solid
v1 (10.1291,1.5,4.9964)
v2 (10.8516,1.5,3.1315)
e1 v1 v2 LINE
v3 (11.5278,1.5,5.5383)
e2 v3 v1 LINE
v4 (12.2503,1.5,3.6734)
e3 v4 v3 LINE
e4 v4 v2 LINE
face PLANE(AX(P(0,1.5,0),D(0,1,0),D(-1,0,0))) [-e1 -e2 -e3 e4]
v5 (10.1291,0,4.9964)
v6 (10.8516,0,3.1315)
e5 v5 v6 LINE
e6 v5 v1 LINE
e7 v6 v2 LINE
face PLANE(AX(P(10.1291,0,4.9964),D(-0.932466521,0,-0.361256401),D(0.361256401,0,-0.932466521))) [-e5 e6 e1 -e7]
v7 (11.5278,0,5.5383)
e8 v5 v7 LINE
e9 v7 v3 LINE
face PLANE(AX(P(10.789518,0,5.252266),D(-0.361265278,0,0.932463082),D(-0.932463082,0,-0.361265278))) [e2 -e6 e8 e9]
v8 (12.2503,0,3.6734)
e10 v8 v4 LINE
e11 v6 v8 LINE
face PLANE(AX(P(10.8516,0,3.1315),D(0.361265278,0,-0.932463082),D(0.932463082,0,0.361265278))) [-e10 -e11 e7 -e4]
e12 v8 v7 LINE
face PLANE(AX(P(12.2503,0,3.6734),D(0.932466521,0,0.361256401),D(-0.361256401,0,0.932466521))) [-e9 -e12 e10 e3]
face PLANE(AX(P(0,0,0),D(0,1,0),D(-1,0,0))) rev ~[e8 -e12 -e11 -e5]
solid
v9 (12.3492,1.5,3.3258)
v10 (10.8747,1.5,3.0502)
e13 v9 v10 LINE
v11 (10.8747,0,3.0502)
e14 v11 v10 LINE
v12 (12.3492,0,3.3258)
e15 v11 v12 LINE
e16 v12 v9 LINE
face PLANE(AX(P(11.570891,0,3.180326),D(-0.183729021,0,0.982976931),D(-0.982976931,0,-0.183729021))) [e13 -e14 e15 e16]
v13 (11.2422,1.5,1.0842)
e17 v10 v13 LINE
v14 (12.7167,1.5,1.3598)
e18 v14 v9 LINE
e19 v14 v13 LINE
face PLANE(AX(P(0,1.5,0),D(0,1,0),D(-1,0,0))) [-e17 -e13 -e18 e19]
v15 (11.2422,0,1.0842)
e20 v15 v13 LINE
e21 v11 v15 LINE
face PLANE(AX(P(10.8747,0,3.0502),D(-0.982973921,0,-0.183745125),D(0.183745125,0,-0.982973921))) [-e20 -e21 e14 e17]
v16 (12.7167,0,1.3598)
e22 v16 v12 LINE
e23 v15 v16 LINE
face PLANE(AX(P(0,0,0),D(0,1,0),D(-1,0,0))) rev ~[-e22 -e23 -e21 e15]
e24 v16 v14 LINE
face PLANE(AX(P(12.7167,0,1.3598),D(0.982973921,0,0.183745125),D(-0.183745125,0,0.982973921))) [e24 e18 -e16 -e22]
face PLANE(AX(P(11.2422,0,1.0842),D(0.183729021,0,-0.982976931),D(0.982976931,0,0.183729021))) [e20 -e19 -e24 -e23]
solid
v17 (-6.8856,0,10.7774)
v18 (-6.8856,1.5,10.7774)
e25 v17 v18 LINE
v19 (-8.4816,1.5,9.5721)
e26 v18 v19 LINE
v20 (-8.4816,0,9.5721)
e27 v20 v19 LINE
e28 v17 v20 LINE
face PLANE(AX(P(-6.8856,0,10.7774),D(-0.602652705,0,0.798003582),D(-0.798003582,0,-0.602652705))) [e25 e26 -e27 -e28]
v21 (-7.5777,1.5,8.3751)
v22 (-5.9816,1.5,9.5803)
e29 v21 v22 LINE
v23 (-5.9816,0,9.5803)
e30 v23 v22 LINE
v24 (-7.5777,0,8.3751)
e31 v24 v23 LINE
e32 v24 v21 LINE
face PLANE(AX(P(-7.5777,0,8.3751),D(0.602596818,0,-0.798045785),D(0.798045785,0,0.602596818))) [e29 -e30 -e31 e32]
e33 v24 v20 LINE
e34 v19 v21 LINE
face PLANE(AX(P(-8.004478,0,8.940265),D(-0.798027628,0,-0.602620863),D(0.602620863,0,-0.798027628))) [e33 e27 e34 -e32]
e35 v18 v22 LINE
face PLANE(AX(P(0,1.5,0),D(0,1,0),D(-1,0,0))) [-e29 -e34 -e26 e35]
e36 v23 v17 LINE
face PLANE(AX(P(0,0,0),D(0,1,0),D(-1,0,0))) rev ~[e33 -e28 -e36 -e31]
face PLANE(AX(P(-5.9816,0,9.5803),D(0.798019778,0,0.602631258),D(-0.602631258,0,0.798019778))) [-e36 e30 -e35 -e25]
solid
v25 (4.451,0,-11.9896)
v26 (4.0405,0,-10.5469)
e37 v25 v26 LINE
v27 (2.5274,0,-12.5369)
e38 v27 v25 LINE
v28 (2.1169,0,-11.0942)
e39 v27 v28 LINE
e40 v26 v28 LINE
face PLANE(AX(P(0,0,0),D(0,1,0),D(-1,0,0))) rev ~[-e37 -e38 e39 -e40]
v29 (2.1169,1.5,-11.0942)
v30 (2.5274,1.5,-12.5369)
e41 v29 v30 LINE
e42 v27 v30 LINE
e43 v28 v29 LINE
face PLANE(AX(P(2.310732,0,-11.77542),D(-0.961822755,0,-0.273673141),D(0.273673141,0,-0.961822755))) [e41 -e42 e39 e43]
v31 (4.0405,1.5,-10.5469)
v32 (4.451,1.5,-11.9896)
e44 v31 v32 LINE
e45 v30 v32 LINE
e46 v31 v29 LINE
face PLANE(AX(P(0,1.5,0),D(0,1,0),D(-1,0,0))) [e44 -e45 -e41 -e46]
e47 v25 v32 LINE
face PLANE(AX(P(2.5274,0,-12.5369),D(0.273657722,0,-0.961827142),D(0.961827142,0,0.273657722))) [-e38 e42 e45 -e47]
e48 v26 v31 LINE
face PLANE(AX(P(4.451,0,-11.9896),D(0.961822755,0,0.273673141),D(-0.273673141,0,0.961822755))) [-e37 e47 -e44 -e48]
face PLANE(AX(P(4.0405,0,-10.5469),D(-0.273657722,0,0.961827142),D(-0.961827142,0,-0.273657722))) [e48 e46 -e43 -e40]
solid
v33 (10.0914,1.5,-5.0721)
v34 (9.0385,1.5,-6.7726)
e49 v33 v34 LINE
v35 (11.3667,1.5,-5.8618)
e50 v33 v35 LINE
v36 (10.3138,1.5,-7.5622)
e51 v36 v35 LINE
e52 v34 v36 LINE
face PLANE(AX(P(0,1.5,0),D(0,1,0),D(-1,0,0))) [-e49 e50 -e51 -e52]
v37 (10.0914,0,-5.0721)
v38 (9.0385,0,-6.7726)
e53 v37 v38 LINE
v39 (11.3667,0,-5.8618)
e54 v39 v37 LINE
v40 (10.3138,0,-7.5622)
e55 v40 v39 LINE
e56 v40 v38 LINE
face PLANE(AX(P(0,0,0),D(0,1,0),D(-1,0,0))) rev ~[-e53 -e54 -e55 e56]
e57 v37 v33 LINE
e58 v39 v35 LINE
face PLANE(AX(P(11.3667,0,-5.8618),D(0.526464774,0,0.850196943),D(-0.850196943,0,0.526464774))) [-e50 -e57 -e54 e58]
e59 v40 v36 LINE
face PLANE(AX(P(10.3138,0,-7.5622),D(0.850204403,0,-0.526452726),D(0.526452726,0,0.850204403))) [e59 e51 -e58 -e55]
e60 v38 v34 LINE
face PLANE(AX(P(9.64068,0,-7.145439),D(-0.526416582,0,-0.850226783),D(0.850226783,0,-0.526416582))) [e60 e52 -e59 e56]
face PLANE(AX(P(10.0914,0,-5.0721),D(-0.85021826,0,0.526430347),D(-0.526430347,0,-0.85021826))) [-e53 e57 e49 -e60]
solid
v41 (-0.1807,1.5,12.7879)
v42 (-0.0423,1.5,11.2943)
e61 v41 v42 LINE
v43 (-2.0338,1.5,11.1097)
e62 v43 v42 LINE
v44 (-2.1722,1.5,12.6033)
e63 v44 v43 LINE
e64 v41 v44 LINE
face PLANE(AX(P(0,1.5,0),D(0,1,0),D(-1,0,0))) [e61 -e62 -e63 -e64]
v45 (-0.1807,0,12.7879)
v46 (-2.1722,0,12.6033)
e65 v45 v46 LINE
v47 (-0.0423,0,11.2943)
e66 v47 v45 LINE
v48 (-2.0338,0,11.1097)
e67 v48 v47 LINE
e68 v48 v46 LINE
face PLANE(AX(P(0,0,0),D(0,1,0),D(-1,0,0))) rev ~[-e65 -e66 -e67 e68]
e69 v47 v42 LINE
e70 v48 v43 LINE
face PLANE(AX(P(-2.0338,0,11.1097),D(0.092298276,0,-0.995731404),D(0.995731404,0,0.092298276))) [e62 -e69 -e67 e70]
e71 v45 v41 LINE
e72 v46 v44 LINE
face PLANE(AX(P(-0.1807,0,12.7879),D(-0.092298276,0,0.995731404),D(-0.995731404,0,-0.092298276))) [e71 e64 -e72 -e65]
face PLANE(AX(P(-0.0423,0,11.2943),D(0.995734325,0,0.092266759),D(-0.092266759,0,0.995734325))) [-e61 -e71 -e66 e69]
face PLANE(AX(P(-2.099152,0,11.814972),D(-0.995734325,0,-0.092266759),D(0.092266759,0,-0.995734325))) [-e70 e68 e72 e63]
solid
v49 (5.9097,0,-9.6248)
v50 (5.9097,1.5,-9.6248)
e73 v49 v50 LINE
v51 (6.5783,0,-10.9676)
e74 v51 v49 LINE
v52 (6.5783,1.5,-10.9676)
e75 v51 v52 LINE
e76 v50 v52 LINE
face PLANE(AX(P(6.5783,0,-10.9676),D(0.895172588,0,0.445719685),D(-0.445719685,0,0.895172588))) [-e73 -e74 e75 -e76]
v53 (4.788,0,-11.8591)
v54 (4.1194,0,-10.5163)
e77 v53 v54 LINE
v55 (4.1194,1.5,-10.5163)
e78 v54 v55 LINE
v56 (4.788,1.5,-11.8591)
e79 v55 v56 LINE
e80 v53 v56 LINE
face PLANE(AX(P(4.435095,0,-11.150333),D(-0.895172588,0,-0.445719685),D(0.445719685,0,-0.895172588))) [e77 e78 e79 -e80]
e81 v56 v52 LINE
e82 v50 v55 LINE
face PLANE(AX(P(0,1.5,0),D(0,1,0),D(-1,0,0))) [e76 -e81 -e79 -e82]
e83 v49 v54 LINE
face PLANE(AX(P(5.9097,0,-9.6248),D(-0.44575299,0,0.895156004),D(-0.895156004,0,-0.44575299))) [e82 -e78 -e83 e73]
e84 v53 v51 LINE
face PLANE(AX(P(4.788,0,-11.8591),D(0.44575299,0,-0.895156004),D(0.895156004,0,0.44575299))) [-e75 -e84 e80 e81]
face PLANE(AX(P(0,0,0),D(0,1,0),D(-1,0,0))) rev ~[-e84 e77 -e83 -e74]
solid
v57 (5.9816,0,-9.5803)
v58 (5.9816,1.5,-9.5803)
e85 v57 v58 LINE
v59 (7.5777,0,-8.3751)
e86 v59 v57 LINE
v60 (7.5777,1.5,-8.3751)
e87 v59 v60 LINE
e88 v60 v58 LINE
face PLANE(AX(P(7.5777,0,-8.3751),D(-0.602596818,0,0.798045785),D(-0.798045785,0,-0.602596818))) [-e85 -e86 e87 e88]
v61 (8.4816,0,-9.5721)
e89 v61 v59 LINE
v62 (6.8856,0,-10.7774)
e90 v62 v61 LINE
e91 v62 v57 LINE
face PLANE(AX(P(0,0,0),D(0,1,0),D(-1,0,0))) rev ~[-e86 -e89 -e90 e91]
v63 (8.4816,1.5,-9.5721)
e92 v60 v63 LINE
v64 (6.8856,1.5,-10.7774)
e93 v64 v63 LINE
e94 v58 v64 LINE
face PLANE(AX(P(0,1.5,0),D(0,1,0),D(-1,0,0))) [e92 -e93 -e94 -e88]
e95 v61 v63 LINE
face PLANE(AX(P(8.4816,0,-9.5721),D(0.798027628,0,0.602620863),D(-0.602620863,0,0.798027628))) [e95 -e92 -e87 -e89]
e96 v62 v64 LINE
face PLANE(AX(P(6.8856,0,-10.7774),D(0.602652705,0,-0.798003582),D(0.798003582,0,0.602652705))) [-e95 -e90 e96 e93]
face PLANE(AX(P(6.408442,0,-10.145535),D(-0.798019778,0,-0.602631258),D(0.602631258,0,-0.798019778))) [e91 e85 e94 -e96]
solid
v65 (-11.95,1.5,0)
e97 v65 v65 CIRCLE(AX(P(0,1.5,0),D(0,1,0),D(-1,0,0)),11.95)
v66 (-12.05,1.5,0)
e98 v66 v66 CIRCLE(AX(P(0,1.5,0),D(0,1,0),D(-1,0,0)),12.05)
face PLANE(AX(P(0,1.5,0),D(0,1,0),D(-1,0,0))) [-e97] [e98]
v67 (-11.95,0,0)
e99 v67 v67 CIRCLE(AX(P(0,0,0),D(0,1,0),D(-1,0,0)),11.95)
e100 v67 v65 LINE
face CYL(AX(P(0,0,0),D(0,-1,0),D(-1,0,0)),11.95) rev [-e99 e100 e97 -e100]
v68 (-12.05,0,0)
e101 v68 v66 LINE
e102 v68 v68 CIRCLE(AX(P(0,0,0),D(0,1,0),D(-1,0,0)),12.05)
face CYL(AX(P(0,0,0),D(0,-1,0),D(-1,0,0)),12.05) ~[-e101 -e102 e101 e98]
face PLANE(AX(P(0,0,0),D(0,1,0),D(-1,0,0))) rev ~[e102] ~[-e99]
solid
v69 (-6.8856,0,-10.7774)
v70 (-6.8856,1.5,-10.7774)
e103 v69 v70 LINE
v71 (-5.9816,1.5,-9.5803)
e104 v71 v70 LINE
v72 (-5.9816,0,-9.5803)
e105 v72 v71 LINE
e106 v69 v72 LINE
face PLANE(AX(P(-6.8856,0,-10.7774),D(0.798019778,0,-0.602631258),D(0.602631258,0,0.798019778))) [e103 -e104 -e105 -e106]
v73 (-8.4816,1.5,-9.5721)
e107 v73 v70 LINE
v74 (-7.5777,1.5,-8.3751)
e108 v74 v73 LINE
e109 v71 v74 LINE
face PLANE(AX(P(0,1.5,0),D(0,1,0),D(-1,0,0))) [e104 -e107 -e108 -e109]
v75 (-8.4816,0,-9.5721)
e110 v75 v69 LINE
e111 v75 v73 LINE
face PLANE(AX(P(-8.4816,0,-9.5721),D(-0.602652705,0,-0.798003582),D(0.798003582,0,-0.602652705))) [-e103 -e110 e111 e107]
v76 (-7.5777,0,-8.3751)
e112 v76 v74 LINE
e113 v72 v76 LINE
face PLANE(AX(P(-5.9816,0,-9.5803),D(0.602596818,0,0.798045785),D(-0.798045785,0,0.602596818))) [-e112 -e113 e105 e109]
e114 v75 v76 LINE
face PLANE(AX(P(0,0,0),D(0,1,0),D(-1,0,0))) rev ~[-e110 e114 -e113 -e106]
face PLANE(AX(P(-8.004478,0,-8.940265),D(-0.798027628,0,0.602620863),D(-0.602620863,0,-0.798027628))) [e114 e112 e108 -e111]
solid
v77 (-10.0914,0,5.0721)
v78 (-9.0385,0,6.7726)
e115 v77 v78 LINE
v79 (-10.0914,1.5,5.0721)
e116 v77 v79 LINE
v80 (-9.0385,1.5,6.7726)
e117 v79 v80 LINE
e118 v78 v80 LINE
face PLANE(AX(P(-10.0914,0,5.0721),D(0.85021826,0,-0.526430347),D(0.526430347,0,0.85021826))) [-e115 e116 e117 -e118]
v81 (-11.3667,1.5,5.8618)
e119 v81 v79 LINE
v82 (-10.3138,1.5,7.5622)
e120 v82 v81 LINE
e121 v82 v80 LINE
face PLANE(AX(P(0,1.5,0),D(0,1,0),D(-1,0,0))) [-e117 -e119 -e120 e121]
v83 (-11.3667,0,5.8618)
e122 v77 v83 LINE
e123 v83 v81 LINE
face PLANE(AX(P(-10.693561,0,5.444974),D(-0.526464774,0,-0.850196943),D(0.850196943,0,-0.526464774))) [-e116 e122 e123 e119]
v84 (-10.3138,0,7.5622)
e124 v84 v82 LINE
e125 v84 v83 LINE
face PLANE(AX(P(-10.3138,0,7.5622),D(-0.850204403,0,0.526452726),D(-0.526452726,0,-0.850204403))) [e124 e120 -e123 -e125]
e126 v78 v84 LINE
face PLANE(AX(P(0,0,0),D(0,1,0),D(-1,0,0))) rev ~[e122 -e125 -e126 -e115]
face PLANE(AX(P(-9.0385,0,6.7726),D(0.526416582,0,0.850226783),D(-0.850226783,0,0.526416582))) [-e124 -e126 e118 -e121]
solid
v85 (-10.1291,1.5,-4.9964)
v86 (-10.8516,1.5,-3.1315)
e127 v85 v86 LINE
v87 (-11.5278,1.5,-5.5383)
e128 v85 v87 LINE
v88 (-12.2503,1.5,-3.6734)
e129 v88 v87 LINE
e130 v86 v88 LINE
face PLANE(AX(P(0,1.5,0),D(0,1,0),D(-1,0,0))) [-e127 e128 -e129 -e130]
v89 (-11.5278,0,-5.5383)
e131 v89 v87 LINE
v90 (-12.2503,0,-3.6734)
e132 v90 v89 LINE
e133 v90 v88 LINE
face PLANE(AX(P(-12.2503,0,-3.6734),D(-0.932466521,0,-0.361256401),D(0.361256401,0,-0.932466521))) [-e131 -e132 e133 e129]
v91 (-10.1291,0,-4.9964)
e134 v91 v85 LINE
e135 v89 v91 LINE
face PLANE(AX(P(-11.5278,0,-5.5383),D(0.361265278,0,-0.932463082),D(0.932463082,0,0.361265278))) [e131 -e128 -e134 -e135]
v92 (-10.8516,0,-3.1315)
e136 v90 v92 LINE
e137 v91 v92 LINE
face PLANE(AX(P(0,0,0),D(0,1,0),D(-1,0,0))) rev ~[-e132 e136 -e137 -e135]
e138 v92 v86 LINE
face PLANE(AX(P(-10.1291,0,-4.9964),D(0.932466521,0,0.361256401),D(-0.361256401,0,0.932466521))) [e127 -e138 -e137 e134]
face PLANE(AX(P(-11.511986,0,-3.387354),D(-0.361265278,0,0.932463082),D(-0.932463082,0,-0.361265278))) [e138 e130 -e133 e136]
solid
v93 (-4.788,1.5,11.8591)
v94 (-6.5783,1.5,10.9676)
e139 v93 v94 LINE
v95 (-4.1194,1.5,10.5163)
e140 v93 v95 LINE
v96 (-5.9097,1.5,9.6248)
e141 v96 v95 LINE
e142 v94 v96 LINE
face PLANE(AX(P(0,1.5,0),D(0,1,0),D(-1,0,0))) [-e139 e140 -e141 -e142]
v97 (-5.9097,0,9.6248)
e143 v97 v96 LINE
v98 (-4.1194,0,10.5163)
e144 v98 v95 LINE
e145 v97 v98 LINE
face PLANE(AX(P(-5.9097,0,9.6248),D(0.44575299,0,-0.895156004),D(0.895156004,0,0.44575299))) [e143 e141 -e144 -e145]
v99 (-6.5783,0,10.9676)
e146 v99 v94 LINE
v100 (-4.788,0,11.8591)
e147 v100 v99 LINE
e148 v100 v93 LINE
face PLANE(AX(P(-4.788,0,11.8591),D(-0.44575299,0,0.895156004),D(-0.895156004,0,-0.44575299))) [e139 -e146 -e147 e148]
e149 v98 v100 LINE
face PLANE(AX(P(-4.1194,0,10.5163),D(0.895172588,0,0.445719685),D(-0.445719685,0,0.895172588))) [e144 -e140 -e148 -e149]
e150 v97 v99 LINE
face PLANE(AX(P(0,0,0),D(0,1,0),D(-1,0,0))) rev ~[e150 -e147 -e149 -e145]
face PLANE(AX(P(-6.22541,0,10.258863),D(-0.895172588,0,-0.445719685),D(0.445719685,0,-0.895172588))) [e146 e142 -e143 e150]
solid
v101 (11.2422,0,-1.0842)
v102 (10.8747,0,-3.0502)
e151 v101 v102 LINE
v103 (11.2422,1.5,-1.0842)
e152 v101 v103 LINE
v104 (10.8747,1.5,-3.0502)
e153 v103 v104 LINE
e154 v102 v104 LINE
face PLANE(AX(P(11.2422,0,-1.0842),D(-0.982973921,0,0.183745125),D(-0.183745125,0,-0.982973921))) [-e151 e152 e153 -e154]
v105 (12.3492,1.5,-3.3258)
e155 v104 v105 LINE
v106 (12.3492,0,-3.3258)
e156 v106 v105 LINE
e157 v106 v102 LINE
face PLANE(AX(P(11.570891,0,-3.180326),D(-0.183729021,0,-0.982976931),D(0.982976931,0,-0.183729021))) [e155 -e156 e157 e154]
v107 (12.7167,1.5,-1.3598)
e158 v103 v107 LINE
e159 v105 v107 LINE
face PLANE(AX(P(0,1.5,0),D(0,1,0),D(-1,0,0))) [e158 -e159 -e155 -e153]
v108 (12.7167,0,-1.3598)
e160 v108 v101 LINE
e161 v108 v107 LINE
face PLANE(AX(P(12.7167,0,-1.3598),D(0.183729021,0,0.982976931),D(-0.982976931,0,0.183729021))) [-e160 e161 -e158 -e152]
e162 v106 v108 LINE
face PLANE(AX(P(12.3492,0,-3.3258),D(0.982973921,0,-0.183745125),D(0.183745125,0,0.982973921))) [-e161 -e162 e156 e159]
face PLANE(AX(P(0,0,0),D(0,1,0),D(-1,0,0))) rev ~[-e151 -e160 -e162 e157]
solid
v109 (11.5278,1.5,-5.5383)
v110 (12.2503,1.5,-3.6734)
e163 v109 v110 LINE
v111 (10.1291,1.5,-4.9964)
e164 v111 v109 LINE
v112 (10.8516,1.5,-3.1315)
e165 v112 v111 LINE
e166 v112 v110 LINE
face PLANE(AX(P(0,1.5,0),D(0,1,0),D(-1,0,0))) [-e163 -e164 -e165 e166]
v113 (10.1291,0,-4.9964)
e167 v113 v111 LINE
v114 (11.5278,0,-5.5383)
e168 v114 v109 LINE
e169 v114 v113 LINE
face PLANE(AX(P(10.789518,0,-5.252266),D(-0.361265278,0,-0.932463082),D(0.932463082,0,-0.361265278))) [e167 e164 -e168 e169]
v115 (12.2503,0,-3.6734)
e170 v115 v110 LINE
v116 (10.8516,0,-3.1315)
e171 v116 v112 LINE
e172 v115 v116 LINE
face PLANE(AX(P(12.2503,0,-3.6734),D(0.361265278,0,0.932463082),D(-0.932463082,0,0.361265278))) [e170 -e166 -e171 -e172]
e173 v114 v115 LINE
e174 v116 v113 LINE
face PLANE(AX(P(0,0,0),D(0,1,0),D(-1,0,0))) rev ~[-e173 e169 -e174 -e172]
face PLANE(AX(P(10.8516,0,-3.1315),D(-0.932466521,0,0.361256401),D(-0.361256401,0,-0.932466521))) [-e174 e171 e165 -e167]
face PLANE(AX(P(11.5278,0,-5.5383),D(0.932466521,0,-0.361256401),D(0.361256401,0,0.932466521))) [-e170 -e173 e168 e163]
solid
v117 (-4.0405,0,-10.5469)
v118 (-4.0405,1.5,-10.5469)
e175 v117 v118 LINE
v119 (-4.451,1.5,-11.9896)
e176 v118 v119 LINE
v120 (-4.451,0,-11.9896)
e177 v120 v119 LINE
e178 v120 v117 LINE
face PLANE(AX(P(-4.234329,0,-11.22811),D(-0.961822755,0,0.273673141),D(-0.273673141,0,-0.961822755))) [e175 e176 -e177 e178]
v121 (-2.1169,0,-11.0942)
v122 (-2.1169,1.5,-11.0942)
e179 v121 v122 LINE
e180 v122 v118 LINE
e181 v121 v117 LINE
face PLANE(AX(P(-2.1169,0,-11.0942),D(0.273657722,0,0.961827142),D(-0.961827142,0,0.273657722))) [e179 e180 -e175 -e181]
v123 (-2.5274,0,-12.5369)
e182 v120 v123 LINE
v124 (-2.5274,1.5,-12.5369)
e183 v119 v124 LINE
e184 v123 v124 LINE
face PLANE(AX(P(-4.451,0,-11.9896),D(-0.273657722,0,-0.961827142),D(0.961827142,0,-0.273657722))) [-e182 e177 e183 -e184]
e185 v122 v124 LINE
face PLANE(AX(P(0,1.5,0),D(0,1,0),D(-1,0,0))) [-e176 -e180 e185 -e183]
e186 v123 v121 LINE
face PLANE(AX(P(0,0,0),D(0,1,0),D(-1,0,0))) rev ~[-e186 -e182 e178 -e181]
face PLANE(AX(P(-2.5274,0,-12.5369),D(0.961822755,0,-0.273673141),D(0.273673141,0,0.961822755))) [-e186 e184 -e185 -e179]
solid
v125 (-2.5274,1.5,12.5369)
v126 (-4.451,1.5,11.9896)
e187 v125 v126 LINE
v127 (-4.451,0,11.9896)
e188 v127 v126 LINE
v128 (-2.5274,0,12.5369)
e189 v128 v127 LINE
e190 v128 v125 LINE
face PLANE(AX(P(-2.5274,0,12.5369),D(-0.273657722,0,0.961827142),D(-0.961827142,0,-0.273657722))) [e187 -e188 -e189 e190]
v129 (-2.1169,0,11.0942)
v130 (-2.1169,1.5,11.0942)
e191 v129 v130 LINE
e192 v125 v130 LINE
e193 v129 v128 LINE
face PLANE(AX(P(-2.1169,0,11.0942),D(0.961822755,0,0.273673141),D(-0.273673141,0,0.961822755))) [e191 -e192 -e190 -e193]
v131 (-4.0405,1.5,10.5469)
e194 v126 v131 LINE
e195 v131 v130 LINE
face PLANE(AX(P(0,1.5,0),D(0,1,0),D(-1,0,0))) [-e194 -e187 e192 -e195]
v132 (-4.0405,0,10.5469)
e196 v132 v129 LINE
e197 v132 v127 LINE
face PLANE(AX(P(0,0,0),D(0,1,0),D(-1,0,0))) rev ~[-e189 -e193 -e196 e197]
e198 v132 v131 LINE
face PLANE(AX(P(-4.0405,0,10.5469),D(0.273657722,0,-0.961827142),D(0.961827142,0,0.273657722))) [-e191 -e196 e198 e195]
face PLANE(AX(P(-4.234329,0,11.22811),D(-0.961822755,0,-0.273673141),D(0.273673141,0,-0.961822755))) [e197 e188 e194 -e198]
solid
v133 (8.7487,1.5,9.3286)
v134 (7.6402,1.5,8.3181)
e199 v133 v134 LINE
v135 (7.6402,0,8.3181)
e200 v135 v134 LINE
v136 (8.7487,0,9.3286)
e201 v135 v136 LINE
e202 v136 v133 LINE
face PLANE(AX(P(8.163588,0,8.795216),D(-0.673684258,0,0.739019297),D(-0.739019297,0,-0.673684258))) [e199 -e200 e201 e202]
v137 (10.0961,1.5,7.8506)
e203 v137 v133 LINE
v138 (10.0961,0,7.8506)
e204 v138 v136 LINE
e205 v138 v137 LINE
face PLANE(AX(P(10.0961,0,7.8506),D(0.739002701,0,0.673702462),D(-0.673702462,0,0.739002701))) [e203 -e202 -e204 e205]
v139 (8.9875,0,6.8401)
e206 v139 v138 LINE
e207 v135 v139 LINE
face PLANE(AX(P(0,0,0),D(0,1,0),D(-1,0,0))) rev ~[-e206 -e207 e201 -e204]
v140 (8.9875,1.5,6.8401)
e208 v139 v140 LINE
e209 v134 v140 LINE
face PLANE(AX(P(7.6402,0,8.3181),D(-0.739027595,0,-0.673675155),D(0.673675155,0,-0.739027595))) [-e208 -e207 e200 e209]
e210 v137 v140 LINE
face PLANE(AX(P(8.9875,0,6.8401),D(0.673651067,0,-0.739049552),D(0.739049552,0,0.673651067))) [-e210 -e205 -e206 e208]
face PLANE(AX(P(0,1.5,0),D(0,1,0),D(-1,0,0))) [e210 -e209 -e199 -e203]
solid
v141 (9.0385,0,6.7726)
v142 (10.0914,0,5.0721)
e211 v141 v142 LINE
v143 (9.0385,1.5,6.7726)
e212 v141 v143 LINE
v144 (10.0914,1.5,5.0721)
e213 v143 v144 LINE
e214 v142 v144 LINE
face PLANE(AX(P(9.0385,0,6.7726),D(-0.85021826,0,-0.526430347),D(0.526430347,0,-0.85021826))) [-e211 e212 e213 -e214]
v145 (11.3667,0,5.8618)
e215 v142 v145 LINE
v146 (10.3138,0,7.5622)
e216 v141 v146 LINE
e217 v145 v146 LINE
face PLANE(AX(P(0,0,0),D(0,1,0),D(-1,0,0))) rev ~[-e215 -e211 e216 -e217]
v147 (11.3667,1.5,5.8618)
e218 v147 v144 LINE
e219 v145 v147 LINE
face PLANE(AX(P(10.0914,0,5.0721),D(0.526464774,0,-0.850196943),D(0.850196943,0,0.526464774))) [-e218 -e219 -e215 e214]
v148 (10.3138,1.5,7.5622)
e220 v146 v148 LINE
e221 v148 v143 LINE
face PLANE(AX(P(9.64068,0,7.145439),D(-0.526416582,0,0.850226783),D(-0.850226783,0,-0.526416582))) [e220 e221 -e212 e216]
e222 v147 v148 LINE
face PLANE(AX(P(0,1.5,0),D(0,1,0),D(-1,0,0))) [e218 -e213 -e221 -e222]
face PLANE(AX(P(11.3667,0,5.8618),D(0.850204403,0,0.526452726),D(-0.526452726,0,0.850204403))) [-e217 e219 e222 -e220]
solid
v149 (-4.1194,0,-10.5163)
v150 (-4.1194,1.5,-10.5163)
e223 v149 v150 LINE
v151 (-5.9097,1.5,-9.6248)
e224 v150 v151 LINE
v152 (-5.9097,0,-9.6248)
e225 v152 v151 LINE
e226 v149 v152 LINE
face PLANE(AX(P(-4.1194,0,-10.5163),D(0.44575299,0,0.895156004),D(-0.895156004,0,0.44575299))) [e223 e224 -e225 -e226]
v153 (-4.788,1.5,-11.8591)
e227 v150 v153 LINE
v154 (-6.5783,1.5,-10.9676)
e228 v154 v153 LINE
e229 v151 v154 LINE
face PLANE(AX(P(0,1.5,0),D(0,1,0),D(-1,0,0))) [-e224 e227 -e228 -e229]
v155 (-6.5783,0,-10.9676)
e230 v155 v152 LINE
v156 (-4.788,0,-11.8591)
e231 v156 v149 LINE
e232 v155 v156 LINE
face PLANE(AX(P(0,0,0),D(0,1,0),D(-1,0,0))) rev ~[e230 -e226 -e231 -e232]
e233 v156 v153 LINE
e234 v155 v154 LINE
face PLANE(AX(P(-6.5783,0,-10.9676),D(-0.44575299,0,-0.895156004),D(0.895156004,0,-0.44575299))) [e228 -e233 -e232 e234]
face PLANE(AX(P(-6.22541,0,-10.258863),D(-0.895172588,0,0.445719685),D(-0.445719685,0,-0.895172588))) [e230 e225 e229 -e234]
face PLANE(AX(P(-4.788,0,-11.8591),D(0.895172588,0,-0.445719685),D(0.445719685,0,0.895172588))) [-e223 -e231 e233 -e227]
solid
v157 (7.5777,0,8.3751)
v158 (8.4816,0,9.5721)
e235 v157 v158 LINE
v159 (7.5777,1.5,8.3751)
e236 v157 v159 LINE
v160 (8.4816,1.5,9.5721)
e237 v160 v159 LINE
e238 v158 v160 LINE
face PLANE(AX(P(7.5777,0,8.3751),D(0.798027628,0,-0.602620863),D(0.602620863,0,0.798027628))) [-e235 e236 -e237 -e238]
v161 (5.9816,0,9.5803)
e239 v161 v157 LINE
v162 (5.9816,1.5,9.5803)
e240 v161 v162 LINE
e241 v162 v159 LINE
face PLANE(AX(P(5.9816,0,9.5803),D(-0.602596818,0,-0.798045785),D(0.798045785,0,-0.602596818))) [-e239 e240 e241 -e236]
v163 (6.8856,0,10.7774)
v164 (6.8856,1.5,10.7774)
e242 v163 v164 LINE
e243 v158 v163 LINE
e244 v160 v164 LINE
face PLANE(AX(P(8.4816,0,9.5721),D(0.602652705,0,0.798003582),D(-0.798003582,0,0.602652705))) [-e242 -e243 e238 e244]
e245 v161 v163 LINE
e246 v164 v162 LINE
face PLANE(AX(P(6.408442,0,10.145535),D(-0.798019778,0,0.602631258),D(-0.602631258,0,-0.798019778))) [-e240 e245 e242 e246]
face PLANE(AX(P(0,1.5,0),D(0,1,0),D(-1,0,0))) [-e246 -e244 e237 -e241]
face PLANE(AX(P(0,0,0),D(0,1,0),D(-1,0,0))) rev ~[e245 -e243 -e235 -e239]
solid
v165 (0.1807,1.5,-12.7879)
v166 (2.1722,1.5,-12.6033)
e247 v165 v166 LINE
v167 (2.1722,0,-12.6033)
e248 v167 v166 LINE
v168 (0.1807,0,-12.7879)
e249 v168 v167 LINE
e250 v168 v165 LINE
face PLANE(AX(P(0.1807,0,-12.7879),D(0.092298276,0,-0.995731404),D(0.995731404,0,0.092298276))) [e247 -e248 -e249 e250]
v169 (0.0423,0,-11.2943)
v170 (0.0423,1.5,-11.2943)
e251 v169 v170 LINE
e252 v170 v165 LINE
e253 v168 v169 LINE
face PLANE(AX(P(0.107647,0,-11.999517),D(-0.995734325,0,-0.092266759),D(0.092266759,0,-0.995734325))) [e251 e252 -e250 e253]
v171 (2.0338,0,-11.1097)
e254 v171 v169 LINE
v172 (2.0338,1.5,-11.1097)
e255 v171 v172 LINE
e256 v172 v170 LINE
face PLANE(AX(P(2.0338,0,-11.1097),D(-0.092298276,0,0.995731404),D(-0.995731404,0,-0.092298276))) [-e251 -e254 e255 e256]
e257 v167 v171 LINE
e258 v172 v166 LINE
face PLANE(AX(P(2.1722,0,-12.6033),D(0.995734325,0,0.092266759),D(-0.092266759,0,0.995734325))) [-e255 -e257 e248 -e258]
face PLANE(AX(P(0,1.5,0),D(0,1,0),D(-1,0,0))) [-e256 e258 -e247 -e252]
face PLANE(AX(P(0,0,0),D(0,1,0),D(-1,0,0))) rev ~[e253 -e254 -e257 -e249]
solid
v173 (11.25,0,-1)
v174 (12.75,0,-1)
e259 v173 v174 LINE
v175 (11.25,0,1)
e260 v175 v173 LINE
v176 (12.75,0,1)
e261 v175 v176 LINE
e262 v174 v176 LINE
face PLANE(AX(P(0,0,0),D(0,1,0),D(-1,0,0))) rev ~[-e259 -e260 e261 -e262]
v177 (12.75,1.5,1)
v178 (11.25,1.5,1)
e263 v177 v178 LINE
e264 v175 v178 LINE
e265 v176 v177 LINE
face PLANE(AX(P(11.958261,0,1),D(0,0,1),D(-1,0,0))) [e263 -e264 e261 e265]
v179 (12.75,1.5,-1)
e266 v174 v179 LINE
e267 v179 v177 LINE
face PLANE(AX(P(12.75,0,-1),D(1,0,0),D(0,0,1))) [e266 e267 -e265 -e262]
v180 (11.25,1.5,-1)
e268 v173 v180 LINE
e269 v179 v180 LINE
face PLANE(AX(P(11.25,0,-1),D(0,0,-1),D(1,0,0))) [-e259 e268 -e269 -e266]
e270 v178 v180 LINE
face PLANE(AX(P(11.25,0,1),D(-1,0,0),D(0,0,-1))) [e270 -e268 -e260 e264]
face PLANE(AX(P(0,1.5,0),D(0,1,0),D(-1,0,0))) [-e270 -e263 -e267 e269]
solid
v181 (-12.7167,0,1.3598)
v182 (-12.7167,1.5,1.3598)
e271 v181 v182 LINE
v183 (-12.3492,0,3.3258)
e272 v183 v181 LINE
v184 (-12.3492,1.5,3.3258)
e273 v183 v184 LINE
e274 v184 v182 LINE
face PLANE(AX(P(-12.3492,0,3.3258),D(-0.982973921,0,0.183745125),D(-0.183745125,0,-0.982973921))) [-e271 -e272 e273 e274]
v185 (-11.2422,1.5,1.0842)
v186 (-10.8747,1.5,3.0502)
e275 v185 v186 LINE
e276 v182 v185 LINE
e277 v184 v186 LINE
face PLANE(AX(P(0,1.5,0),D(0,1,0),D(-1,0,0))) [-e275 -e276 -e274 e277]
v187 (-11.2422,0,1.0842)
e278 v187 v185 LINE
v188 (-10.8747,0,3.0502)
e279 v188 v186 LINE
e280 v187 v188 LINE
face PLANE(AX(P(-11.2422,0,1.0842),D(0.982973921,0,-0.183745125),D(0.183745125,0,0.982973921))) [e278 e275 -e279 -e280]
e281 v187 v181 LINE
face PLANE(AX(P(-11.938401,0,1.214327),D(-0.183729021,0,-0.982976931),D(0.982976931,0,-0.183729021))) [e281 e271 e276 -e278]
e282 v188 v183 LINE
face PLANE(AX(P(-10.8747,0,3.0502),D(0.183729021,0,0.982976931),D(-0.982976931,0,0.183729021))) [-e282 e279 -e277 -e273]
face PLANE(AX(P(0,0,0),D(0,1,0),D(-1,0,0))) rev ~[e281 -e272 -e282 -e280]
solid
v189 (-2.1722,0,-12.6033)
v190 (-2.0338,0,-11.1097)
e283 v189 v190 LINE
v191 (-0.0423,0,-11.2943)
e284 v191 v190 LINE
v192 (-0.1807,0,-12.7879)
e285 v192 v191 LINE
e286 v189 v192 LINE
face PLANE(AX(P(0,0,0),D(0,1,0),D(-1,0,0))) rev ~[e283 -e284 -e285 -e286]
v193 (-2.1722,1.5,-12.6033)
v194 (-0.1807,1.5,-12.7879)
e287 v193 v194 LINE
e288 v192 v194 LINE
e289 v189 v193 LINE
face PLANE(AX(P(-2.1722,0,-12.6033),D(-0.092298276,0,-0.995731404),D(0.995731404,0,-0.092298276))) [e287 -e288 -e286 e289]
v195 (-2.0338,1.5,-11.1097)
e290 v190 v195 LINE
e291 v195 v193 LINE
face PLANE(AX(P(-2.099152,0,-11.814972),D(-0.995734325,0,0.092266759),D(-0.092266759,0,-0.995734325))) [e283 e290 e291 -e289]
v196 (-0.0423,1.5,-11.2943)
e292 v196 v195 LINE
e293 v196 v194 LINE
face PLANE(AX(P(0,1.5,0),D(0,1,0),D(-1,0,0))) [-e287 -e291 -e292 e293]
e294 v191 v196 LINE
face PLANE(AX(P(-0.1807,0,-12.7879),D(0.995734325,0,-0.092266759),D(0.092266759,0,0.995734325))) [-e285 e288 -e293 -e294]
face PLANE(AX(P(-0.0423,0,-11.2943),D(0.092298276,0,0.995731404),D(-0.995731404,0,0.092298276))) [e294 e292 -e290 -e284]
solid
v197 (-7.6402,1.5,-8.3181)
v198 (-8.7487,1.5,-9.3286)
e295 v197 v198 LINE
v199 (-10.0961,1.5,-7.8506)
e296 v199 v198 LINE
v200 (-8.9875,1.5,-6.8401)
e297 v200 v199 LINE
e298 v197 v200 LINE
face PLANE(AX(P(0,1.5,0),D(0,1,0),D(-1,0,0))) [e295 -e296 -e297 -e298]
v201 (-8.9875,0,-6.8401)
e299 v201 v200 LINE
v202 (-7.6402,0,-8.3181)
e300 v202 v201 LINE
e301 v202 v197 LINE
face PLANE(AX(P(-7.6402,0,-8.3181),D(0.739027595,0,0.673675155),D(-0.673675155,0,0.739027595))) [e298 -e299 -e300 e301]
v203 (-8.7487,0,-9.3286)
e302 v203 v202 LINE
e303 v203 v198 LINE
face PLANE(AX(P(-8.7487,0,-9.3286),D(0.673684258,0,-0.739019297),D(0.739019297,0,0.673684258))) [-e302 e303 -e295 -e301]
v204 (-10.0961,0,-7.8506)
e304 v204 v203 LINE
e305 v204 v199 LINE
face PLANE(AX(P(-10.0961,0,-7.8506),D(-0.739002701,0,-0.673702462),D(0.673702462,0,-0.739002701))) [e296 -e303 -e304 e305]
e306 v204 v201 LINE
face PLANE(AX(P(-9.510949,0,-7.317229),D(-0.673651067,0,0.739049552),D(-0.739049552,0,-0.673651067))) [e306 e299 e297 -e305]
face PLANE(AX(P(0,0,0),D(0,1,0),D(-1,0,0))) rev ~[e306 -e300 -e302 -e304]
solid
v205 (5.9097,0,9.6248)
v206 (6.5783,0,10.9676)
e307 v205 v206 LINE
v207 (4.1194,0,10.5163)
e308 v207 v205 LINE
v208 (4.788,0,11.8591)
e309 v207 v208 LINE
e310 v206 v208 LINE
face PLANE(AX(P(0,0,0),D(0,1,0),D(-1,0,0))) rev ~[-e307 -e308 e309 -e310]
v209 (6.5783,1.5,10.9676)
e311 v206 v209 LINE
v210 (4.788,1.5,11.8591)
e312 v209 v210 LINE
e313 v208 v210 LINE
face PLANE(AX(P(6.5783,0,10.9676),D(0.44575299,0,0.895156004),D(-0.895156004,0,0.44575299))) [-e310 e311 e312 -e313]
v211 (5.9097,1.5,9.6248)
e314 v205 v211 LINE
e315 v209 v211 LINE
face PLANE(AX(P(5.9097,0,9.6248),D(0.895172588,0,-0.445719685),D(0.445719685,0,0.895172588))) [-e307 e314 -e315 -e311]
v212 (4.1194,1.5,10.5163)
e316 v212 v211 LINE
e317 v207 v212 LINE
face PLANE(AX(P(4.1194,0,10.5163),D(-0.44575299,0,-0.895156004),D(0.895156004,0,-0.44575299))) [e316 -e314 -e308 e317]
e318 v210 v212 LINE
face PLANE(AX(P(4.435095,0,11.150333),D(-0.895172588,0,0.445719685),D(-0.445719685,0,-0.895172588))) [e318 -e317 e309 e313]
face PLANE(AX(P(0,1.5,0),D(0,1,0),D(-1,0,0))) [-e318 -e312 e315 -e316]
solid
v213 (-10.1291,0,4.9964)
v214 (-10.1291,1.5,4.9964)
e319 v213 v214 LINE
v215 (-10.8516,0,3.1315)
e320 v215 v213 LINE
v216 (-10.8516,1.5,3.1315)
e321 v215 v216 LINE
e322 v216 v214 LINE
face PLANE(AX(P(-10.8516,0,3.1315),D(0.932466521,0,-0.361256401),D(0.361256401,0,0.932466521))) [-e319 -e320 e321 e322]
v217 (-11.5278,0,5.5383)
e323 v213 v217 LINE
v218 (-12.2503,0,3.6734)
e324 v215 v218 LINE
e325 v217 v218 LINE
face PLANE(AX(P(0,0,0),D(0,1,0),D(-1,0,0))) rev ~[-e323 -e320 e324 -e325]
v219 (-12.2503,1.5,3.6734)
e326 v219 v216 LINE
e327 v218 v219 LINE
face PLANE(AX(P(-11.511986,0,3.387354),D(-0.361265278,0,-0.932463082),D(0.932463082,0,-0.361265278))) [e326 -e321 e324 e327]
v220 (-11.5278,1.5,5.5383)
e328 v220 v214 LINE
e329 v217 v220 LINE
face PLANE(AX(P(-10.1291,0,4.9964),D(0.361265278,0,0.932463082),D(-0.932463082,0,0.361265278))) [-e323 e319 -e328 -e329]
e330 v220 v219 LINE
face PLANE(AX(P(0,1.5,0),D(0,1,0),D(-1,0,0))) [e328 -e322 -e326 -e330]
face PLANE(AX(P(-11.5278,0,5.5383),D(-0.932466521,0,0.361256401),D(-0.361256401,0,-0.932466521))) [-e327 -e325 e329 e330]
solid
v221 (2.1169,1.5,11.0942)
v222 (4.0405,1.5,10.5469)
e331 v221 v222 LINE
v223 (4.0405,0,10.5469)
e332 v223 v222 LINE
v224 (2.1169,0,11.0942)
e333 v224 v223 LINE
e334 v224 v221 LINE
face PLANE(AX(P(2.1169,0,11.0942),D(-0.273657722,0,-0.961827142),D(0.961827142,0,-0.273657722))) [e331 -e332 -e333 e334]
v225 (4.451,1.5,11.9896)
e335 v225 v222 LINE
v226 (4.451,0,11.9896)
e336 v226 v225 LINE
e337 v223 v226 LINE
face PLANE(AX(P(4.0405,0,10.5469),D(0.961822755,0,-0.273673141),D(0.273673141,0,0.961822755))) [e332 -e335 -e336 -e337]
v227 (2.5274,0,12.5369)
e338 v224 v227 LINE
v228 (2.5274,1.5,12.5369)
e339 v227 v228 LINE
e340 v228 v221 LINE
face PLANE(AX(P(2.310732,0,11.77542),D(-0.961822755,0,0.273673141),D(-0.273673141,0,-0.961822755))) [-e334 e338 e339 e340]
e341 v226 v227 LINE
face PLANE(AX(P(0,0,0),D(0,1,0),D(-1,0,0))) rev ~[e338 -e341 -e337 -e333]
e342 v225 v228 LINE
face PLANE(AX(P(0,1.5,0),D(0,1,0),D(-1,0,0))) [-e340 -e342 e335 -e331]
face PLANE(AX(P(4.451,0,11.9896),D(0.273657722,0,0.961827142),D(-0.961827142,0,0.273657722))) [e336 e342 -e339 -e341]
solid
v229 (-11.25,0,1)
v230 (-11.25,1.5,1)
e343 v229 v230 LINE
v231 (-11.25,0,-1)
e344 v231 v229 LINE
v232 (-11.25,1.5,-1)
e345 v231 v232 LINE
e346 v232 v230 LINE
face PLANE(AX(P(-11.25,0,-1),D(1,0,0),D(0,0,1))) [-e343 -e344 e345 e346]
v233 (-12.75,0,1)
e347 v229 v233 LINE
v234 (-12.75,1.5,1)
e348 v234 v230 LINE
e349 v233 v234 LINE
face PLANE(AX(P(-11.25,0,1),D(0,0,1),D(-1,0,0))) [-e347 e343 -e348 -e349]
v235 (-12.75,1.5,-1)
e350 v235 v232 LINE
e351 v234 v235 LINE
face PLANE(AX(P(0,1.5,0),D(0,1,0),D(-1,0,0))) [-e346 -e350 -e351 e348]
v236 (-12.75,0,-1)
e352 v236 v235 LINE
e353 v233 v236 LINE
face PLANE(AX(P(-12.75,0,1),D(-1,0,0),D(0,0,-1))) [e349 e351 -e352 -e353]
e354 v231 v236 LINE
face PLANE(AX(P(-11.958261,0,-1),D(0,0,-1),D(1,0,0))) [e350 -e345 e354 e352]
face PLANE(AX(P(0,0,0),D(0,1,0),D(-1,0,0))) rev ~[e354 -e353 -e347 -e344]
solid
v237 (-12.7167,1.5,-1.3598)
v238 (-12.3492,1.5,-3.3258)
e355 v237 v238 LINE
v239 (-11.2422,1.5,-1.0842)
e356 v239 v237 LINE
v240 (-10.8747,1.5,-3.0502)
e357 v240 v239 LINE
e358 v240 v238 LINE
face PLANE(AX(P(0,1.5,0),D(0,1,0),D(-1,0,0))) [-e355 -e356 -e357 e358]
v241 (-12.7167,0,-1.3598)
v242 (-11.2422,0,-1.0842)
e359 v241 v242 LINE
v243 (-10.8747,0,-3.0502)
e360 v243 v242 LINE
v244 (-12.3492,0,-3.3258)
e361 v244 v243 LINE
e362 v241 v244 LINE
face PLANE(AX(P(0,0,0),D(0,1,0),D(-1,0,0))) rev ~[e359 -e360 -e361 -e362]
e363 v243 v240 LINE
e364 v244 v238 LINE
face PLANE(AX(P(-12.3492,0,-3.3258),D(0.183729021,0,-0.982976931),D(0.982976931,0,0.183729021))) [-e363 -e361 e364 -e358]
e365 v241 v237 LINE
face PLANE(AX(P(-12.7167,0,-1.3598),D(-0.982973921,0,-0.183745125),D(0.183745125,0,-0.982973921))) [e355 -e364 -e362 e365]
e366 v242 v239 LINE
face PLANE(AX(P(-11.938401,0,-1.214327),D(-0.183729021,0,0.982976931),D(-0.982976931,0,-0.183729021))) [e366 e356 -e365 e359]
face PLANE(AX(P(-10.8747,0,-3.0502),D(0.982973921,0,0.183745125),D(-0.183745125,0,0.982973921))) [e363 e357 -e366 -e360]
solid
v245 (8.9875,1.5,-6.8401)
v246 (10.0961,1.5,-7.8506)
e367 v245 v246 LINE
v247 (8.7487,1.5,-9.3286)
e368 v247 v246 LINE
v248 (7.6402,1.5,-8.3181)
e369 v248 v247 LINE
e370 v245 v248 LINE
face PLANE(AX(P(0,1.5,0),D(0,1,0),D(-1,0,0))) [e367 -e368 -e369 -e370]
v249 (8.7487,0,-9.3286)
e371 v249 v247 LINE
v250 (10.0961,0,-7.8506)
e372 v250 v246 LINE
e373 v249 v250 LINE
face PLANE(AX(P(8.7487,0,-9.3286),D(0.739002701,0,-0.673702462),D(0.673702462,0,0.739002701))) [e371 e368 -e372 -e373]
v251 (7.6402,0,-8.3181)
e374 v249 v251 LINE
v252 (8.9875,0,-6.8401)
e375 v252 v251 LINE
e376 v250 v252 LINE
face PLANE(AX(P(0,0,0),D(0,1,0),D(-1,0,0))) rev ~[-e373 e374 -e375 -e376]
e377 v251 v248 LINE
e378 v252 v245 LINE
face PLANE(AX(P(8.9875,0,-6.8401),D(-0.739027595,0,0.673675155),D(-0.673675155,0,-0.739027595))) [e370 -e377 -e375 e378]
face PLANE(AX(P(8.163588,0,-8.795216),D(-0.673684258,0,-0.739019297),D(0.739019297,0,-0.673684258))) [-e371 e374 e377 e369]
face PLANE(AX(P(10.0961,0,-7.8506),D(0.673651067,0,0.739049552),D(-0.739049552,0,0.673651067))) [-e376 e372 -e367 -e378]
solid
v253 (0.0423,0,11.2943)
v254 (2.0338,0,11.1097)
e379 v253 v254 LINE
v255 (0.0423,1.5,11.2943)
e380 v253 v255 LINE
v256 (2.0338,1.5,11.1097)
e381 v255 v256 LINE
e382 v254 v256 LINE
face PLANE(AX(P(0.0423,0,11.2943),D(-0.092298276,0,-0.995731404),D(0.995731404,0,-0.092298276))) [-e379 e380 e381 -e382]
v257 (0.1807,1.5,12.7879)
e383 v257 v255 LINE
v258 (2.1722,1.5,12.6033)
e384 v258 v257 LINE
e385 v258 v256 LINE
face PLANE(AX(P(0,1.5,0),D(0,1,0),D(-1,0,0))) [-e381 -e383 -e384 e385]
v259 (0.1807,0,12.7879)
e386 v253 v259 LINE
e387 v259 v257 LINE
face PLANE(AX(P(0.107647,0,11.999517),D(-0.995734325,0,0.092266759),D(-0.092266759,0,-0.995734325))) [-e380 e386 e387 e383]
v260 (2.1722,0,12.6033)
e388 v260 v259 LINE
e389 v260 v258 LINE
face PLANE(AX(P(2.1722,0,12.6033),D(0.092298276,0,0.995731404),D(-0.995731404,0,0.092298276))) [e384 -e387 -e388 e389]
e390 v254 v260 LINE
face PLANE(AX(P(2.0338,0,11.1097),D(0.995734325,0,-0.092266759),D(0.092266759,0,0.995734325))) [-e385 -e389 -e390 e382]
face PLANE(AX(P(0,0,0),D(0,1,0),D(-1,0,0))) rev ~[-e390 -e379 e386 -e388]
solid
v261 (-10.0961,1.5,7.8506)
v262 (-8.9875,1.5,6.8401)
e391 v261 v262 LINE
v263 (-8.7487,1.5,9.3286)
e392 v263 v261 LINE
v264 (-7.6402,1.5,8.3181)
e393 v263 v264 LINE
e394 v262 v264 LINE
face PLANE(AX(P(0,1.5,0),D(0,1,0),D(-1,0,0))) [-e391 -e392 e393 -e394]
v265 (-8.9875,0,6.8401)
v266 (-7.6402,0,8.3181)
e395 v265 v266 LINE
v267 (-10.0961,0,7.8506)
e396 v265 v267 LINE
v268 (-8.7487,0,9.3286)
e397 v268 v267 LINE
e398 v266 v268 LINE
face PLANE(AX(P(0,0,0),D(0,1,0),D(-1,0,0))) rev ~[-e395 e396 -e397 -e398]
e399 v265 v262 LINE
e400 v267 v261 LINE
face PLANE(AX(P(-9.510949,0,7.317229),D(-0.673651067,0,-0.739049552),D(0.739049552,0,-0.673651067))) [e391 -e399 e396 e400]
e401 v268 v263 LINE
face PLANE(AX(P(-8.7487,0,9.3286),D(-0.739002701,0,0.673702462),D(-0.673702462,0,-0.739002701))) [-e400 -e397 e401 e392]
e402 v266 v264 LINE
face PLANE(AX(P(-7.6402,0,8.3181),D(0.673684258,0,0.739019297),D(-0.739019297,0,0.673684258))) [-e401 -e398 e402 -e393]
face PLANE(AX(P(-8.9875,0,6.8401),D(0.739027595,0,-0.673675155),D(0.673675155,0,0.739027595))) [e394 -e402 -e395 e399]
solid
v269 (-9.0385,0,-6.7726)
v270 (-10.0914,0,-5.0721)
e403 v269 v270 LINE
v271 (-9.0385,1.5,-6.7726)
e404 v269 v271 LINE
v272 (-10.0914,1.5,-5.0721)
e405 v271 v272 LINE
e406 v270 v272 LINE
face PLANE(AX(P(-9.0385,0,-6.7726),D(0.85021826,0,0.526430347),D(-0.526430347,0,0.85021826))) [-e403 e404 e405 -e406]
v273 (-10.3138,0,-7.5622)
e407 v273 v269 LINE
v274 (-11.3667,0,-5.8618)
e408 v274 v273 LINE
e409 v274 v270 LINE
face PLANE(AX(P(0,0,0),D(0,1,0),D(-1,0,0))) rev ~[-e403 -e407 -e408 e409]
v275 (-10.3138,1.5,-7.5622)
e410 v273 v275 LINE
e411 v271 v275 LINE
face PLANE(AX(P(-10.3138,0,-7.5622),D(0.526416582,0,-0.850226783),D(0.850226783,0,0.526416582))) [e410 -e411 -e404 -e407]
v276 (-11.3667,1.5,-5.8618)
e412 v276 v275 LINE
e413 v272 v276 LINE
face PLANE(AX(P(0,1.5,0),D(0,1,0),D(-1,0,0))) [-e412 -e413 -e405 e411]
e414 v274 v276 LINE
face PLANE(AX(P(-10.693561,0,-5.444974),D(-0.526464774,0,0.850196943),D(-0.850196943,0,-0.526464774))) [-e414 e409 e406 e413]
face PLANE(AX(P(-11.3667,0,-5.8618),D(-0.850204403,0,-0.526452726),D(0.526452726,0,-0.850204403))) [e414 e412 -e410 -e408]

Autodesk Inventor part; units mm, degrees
ref_plane "YZ Plane" through (0, 0, 0) normal (1, 0, 0) x (0, 1, 0)
ref_plane "XZ Plane" through (0, 0, 0) normal (0, 1, 0) x (-1, 0, 0)
ref_plane "XY Plane" through (0, 0, 0) normal (0, 0, 1) x (1, 0, 0)
sketch "草圖1" plane through (0, 0, 0) normal (0, 1, 0) x (-1, 0, 0)
  circle A0 centre (0, 0) radius 12
  line L0 (11.25, 1) -> (12.75, 1)
  line L1 (12.75, 1) -> (12.75, -1)
  line L2 (12.75, -1) -> (11.25, -1)
  line L3 (11.25, -1) -> (11.25, 1)
  line L4 (11.25, 1) -> (12.75, -1) construction
  line L5 (12.75, 1) -> (11.25, -1) construction
  line L6 (12.3492, 3.3258) -> (12.7167, 1.3598)
  line L7 (12.7167, 1.3598) -> (11.2422, 1.0842)
  line L8 (11.2422, 1.0842) -> (10.8747, 3.0502)
  line L9 (10.8747, 3.0502) -> (12.3492, 3.3258)
  line L10 (11.5278, 5.5383) -> (12.2503, 3.6734)
  line L11 (12.2503, 3.6734) -> (10.8516, 3.1315)
  line L12 (10.8516, 3.1315) -> (10.1291, 4.9964)
  line L13 (10.1291, 4.9964) -> (11.5278, 5.5383)
  line L14 (10.3138, 7.5622) -> (11.3667, 5.8618)
  line L15 (11.3667, 5.8618) -> (10.0914, 5.0721)
  line L16 (10.0914, 5.0721) -> (9.0385, 6.7726)
  line L17 (9.0385, 6.7726) -> (10.3138, 7.5622)
  line L18 (8.7487, 9.3286) -> (10.0961, 7.8506)
  line L19 (10.0961, 7.8506) -> (8.9875, 6.8401)
  line L20 (8.9875, 6.8401) -> (7.6402, 8.3181)
  line L21 (7.6402, 8.3181) -> (8.7487, 9.3286)
  line L22 (6.8856, 10.7774) -> (8.4816, 9.5721)
  line L23 (8.4816, 9.5721) -> (7.5777, 8.3751)
  line L24 (7.5777, 8.3751) -> (5.9816, 9.5803)
  line L25 (5.9816, 9.5803) -> (6.8856, 10.7774)
  line L26 (4.788, 11.8591) -> (6.5783, 10.9676)
  line L27 (6.5783, 10.9676) -> (5.9097, 9.6248)
  line L28 (5.9097, 9.6248) -> (4.1194, 10.5163)
  line L29 (4.1194, 10.5163) -> (4.788, 11.8591)
  line L30 (2.5274, 12.5369) -> (4.451, 11.9896)
  line L31 (4.451, 11.9896) -> (4.0405, 10.5469)
  line L32 (4.0405, 10.5469) -> (2.1169, 11.0942)
  line L33 (2.1169, 11.0942) -> (2.5274, 12.5369)
  line L34 (0.1807, 12.7879) -> (2.1722, 12.6033)
  line L35 (2.1722, 12.6033) -> (2.0338, 11.1097)
  line L36 (2.0338, 11.1097) -> (0.0423, 11.2943)
  line L37 (0.0423, 11.2943) -> (0.1807, 12.7879)
  line L38 (-2.1722, 12.6033) -> (-0.1807, 12.7879)
  line L39 (-0.1807, 12.7879) -> (-0.0423, 11.2943)
  line L40 (-0.0423, 11.2943) -> (-2.0338, 11.1097)
  line L41 (-2.0338, 11.1097) -> (-2.1722, 12.6033)
  line L42 (-4.451, 11.9896) -> (-2.5274, 12.5369)
  line L43 (-2.5274, 12.5369) -> (-2.1169, 11.0942)
  line L44 (-2.1169, 11.0942) -> (-4.0405, 10.5469)
  line L45 (-4.0405, 10.5469) -> (-4.451, 11.9896)
  line L46 (-6.5783, 10.9676) -> (-4.788, 11.8591)
  line L47 (-4.788, 11.8591) -> (-4.1194, 10.5163)
  line L48 (-4.1194, 10.5163) -> (-5.9097, 9.6248)
  line L49 (-5.9097, 9.6248) -> (-6.5783, 10.9676)
  line L50 (-8.4816, 9.5721) -> (-6.8856, 10.7774)
  line L51 (-6.8856, 10.7774) -> (-5.9816, 9.5803)
  line L52 (-5.9816, 9.5803) -> (-7.5777, 8.3751)
  line L53 (-7.5777, 8.3751) -> (-8.4816, 9.5721)
  line L54 (-10.0961, 7.8506) -> (-8.7487, 9.3286)
  line L55 (-8.7487, 9.3286) -> (-7.6402, 8.3181)
  line L56 (-7.6402, 8.3181) -> (-8.9875, 6.8401)
  line L57 (-8.9875, 6.8401) -> (-10.0961, 7.8506)
  line L58 (-11.3667, 5.8618) -> (-10.3138, 7.5622)
  line L59 (-10.3138, 7.5622) -> (-9.0385, 6.7726)
  line L60 (-9.0385, 6.7726) -> (-10.0914, 5.0721)
  line L61 (-10.0914, 5.0721) -> (-11.3667, 5.8618)
  line L62 (-12.2503, 3.6734) -> (-11.5278, 5.5383)
  line L63 (-11.5278, 5.5383) -> (-10.1291, 4.9964)
  line L64 (-10.1291, 4.9964) -> (-10.8516, 3.1315)
  line L65 (-10.8516, 3.1315) -> (-12.2503, 3.6734)
  line L66 (-12.7167, 1.3598) -> (-12.3492, 3.3258)
  line L67 (-12.3492, 3.3258) -> (-10.8747, 3.0502)
  line L68 (-10.8747, 3.0502) -> (-11.2422, 1.0842)
  line L69 (-11.2422, 1.0842) -> (-12.7167, 1.3598)
  line L70 (-12.75, -1) -> (-12.75, 1)
  line L71 (-12.75, 1) -> (-11.25, 1)
  line L72 (-11.25, 1) -> (-11.25, -1)
  line L73 (-11.25, -1) -> (-12.75, -1)
  line L74 (-12.3492, -3.3258) -> (-12.7167, -1.3598)
  line L75 (-12.7167, -1.3598) -> (-11.2422, -1.0842)
  line L76 (-11.2422, -1.0842) -> (-10.8747, -3.0502)
  line L77 (-10.8747, -3.0502) -> (-12.3492, -3.3258)
  line L78 (-11.5278, -5.5383) -> (-12.2503, -3.6734)
  line L79 (-12.2503, -3.6734) -> (-10.8516, -3.1315)
  line L80 (-10.8516, -3.1315) -> (-10.1291, -4.9964)
  line L81 (-10.1291, -4.9964) -> (-11.5278, -5.5383)
  line L82 (-10.3138, -7.5622) -> (-11.3667, -5.8618)
  line L83 (-11.3667, -5.8618) -> (-10.0914, -5.0721)
  line L84 (-10.0914, -5.0721) -> (-9.0385, -6.7726)
  line L85 (-9.0385, -6.7726) -> (-10.3138, -7.5622)
  line L86 (-8.7487, -9.3286) -> (-10.0961, -7.8506)
  line L87 (-10.0961, -7.8506) -> (-8.9875, -6.8401)
  line L88 (-8.9875, -6.8401) -> (-7.6402, -8.3181)
  line L89 (-7.6402, -8.3181) -> (-8.7487, -9.3286)
  line L90 (-6.8856, -10.7774) -> (-8.4816, -9.5721)
  line L91 (-8.4816, -9.5721) -> (-7.5777, -8.3751)
  line L92 (-7.5777, -8.3751) -> (-5.9816, -9.5803)
  line L93 (-5.9816, -9.5803) -> (-6.8856, -10.7774)
  line L94 (-4.788, -11.8591) -> (-6.5783, -10.9676)
  line L95 (-6.5783, -10.9676) -> (-5.9097, -9.6248)
  line L96 (-5.9097, -9.6248) -> (-4.1194, -10.5163)
  line L97 (-4.1194, -10.5163) -> (-4.788, -11.8591)
  line L98 (-2.5274, -12.5369) -> (-4.451, -11.9896)
  line L99 (-4.451, -11.9896) -> (-4.0405, -10.5469)
  line L100 (-4.0405, -10.5469) -> (-2.1169, -11.0942)
  line L101 (-2.1169, -11.0942) -> (-2.5274, -12.5369)
  line L102 (-0.1807, -12.7879) -> (-2.1722, -12.6033)
  line L103 (-2.1722, -12.6033) -> (-2.0338, -11.1097)
  line L104 (-2.0338, -11.1097) -> (-0.0423, -11.2943)
  line L105 (-0.0423, -11.2943) -> (-0.1807, -12.7879)
  line L106 (2.1722, -12.6033) -> (0.1807, -12.7879)
  line L107 (0.1807, -12.7879) -> (0.0423, -11.2943)
  line L108 (0.0423, -11.2943) -> (2.0338, -11.1097)
  line L109 (2.0338, -11.1097) -> (2.1722, -12.6033)
  line L110 (4.451, -11.9896) -> (2.5274, -12.5369)
  line L111 (2.5274, -12.5369) -> (2.1169, -11.0942)
  line L112 (2.1169, -11.0942) -> (4.0405, -10.5469)
  line L113 (4.0405, -10.5469) -> (4.451, -11.9896)
  line L114 (6.5783, -10.9676) -> (4.788, -11.8591)
  line L115 (4.788, -11.8591) -> (4.1194, -10.5163)
  line L116 (4.1194, -10.5163) -> (5.9097, -9.6248)
  line L117 (5.9097, -9.6248) -> (6.5783, -10.9676)
  line L118 (8.4816, -9.5721) -> (6.8856, -10.7774)
  line L119 (6.8856, -10.7774) -> (5.9816, -9.5803)
  line L120 (5.9816, -9.5803) -> (7.5777, -8.3751)
  line L121 (7.5777, -8.3751) -> (8.4816, -9.5721)
  line L122 (10.0961, -7.8506) -> (8.7487, -9.3286)
  line L123 (8.7487, -9.3286) -> (7.6402, -8.3181)
  line L124 (7.6402, -8.3181) -> (8.9875, -6.8401)
  line L125 (8.9875, -6.8401) -> (10.0961, -7.8506)
  line L126 (11.3667, -5.8618) -> (10.3138, -7.5622)
  line L127 (10.3138, -7.5622) -> (9.0385, -6.7726)
  line L128 (9.0385, -6.7726) -> (10.0914, -5.0721)
  line L129 (10.0914, -5.0721) -> (11.3667, -5.8618)
  line L130 (12.2503, -3.6734) -> (11.5278, -5.5383)
  line L131 (11.5278, -5.5383) -> (10.1291, -4.9964)
  line L132 (10.1291, -4.9964) -> (10.8516, -3.1315)
  line L133 (10.8516, -3.1315) -> (12.2503, -3.6734)
  line L134 (12.7167, -1.3598) -> (12.3492, -3.3258)
  line L135 (12.3492, -3.3258) -> (10.8747, -3.0502)
  line L136 (10.8747, -3.0502) -> (11.2422, -1.0842)
  line L137 (11.2422, -1.0842) -> (12.7167, -1.3598)
  point P0 (12, 0)
  dimension "d0" = 24
  dimension "d1" = 1.5
  dimension "d2" = 2
  dimension "d5" = 360
extrude "擠出1" add sketch "草圖1" along normal blind 1.5 contours A0 L2 L3 L0 | A0 L0 L1 L2 | L7 L8 L9 A0 | A0 L9 L6 L7 | L137 L134 L135 A0 | A0 L135 L136 L137 | L11 L12 L13 A0 | A0 L13 L10 L11 | L133 L130 L131 A0 | A0 L131 L132 L133 | L15 L16 L17 A0 | A0 L17 L14 L15 | L129 L126 L127 A0 | A0 L127 L128 L129 | L19 L20 L21 A0 | A0 L21 L18 L19 | L125 L122 L123 A0 | A0 L123 L124 L125 | L23 L24 L25 A0 | A0 L25 L22 L23 | L121 L118 L119 A0 | A0 L119 L120 L121 | L27 L28 L29 A0 | A0 L29 L26 L27 | L117 L114 L115 A0 | A0 L115 L116 L117 | L31 L32 L33 A0 | A0 L33 L30 L31 | L113 L110 L111 A0 | A0 L111 L112 L113 | L35 L36 L37 A0 | A0 L37 L34 L35 | L109 L106 L107 A0 | A0 L107 L108 L109 | L39 L40 L41 A0 | A0 L41 L38 L39 | L105 L102 L103 A0 | A0 L103 L104 L105 | L43 L44 L45 A0 | A0 L45 L42 L43 | L101 L98 L99 A0 | A0 L99 L100 L101 | L47 L48 L49 A0 | A0 L49 L46 L47 | L97 L94 L95 A0 | A0 L95 L96 L97 | L51 L52 L53 A0 | A0 L53 L50 L51 | L93 L90 L91 A0 | A0 L91 L92 L93 | L55 L56 L57 A0 | A0 L57 L54 L55 | L89 L86 L87 A0 | A0 L87 L88 L89 | L59 L60 L61 A0 | A0 L61 L58 L59 | L85 L82 L83 A0 | A0 L83 L84 L85 | L63 L64 L65 A0 | A0 L65 L62 L63 | L81 L78 L79 A0 | A0 L79 L80 L81 | L67 L68 L69 A0 | A0 L69 L66 L67 | L77 L74 L75 A0 | A0 L75 L76 L77 | L71 L72 L73 A0 | A0 L73 L70 L71
sketch "草圖2" plane through (0, 0, 0) normal (0, 1, 0) x (-1, 0, 0)
  circle A0 centre (0, 0) radius 12.05
  circle A1 centre (0, 0) radius 11.95
  dimension "d9" = 24.1
  dimension "d10" = 23.9
extrude "擠出2" add sketch "草圖2" along normal blind 1.5 separate body
properties part number "屋1 物1 柱1"
